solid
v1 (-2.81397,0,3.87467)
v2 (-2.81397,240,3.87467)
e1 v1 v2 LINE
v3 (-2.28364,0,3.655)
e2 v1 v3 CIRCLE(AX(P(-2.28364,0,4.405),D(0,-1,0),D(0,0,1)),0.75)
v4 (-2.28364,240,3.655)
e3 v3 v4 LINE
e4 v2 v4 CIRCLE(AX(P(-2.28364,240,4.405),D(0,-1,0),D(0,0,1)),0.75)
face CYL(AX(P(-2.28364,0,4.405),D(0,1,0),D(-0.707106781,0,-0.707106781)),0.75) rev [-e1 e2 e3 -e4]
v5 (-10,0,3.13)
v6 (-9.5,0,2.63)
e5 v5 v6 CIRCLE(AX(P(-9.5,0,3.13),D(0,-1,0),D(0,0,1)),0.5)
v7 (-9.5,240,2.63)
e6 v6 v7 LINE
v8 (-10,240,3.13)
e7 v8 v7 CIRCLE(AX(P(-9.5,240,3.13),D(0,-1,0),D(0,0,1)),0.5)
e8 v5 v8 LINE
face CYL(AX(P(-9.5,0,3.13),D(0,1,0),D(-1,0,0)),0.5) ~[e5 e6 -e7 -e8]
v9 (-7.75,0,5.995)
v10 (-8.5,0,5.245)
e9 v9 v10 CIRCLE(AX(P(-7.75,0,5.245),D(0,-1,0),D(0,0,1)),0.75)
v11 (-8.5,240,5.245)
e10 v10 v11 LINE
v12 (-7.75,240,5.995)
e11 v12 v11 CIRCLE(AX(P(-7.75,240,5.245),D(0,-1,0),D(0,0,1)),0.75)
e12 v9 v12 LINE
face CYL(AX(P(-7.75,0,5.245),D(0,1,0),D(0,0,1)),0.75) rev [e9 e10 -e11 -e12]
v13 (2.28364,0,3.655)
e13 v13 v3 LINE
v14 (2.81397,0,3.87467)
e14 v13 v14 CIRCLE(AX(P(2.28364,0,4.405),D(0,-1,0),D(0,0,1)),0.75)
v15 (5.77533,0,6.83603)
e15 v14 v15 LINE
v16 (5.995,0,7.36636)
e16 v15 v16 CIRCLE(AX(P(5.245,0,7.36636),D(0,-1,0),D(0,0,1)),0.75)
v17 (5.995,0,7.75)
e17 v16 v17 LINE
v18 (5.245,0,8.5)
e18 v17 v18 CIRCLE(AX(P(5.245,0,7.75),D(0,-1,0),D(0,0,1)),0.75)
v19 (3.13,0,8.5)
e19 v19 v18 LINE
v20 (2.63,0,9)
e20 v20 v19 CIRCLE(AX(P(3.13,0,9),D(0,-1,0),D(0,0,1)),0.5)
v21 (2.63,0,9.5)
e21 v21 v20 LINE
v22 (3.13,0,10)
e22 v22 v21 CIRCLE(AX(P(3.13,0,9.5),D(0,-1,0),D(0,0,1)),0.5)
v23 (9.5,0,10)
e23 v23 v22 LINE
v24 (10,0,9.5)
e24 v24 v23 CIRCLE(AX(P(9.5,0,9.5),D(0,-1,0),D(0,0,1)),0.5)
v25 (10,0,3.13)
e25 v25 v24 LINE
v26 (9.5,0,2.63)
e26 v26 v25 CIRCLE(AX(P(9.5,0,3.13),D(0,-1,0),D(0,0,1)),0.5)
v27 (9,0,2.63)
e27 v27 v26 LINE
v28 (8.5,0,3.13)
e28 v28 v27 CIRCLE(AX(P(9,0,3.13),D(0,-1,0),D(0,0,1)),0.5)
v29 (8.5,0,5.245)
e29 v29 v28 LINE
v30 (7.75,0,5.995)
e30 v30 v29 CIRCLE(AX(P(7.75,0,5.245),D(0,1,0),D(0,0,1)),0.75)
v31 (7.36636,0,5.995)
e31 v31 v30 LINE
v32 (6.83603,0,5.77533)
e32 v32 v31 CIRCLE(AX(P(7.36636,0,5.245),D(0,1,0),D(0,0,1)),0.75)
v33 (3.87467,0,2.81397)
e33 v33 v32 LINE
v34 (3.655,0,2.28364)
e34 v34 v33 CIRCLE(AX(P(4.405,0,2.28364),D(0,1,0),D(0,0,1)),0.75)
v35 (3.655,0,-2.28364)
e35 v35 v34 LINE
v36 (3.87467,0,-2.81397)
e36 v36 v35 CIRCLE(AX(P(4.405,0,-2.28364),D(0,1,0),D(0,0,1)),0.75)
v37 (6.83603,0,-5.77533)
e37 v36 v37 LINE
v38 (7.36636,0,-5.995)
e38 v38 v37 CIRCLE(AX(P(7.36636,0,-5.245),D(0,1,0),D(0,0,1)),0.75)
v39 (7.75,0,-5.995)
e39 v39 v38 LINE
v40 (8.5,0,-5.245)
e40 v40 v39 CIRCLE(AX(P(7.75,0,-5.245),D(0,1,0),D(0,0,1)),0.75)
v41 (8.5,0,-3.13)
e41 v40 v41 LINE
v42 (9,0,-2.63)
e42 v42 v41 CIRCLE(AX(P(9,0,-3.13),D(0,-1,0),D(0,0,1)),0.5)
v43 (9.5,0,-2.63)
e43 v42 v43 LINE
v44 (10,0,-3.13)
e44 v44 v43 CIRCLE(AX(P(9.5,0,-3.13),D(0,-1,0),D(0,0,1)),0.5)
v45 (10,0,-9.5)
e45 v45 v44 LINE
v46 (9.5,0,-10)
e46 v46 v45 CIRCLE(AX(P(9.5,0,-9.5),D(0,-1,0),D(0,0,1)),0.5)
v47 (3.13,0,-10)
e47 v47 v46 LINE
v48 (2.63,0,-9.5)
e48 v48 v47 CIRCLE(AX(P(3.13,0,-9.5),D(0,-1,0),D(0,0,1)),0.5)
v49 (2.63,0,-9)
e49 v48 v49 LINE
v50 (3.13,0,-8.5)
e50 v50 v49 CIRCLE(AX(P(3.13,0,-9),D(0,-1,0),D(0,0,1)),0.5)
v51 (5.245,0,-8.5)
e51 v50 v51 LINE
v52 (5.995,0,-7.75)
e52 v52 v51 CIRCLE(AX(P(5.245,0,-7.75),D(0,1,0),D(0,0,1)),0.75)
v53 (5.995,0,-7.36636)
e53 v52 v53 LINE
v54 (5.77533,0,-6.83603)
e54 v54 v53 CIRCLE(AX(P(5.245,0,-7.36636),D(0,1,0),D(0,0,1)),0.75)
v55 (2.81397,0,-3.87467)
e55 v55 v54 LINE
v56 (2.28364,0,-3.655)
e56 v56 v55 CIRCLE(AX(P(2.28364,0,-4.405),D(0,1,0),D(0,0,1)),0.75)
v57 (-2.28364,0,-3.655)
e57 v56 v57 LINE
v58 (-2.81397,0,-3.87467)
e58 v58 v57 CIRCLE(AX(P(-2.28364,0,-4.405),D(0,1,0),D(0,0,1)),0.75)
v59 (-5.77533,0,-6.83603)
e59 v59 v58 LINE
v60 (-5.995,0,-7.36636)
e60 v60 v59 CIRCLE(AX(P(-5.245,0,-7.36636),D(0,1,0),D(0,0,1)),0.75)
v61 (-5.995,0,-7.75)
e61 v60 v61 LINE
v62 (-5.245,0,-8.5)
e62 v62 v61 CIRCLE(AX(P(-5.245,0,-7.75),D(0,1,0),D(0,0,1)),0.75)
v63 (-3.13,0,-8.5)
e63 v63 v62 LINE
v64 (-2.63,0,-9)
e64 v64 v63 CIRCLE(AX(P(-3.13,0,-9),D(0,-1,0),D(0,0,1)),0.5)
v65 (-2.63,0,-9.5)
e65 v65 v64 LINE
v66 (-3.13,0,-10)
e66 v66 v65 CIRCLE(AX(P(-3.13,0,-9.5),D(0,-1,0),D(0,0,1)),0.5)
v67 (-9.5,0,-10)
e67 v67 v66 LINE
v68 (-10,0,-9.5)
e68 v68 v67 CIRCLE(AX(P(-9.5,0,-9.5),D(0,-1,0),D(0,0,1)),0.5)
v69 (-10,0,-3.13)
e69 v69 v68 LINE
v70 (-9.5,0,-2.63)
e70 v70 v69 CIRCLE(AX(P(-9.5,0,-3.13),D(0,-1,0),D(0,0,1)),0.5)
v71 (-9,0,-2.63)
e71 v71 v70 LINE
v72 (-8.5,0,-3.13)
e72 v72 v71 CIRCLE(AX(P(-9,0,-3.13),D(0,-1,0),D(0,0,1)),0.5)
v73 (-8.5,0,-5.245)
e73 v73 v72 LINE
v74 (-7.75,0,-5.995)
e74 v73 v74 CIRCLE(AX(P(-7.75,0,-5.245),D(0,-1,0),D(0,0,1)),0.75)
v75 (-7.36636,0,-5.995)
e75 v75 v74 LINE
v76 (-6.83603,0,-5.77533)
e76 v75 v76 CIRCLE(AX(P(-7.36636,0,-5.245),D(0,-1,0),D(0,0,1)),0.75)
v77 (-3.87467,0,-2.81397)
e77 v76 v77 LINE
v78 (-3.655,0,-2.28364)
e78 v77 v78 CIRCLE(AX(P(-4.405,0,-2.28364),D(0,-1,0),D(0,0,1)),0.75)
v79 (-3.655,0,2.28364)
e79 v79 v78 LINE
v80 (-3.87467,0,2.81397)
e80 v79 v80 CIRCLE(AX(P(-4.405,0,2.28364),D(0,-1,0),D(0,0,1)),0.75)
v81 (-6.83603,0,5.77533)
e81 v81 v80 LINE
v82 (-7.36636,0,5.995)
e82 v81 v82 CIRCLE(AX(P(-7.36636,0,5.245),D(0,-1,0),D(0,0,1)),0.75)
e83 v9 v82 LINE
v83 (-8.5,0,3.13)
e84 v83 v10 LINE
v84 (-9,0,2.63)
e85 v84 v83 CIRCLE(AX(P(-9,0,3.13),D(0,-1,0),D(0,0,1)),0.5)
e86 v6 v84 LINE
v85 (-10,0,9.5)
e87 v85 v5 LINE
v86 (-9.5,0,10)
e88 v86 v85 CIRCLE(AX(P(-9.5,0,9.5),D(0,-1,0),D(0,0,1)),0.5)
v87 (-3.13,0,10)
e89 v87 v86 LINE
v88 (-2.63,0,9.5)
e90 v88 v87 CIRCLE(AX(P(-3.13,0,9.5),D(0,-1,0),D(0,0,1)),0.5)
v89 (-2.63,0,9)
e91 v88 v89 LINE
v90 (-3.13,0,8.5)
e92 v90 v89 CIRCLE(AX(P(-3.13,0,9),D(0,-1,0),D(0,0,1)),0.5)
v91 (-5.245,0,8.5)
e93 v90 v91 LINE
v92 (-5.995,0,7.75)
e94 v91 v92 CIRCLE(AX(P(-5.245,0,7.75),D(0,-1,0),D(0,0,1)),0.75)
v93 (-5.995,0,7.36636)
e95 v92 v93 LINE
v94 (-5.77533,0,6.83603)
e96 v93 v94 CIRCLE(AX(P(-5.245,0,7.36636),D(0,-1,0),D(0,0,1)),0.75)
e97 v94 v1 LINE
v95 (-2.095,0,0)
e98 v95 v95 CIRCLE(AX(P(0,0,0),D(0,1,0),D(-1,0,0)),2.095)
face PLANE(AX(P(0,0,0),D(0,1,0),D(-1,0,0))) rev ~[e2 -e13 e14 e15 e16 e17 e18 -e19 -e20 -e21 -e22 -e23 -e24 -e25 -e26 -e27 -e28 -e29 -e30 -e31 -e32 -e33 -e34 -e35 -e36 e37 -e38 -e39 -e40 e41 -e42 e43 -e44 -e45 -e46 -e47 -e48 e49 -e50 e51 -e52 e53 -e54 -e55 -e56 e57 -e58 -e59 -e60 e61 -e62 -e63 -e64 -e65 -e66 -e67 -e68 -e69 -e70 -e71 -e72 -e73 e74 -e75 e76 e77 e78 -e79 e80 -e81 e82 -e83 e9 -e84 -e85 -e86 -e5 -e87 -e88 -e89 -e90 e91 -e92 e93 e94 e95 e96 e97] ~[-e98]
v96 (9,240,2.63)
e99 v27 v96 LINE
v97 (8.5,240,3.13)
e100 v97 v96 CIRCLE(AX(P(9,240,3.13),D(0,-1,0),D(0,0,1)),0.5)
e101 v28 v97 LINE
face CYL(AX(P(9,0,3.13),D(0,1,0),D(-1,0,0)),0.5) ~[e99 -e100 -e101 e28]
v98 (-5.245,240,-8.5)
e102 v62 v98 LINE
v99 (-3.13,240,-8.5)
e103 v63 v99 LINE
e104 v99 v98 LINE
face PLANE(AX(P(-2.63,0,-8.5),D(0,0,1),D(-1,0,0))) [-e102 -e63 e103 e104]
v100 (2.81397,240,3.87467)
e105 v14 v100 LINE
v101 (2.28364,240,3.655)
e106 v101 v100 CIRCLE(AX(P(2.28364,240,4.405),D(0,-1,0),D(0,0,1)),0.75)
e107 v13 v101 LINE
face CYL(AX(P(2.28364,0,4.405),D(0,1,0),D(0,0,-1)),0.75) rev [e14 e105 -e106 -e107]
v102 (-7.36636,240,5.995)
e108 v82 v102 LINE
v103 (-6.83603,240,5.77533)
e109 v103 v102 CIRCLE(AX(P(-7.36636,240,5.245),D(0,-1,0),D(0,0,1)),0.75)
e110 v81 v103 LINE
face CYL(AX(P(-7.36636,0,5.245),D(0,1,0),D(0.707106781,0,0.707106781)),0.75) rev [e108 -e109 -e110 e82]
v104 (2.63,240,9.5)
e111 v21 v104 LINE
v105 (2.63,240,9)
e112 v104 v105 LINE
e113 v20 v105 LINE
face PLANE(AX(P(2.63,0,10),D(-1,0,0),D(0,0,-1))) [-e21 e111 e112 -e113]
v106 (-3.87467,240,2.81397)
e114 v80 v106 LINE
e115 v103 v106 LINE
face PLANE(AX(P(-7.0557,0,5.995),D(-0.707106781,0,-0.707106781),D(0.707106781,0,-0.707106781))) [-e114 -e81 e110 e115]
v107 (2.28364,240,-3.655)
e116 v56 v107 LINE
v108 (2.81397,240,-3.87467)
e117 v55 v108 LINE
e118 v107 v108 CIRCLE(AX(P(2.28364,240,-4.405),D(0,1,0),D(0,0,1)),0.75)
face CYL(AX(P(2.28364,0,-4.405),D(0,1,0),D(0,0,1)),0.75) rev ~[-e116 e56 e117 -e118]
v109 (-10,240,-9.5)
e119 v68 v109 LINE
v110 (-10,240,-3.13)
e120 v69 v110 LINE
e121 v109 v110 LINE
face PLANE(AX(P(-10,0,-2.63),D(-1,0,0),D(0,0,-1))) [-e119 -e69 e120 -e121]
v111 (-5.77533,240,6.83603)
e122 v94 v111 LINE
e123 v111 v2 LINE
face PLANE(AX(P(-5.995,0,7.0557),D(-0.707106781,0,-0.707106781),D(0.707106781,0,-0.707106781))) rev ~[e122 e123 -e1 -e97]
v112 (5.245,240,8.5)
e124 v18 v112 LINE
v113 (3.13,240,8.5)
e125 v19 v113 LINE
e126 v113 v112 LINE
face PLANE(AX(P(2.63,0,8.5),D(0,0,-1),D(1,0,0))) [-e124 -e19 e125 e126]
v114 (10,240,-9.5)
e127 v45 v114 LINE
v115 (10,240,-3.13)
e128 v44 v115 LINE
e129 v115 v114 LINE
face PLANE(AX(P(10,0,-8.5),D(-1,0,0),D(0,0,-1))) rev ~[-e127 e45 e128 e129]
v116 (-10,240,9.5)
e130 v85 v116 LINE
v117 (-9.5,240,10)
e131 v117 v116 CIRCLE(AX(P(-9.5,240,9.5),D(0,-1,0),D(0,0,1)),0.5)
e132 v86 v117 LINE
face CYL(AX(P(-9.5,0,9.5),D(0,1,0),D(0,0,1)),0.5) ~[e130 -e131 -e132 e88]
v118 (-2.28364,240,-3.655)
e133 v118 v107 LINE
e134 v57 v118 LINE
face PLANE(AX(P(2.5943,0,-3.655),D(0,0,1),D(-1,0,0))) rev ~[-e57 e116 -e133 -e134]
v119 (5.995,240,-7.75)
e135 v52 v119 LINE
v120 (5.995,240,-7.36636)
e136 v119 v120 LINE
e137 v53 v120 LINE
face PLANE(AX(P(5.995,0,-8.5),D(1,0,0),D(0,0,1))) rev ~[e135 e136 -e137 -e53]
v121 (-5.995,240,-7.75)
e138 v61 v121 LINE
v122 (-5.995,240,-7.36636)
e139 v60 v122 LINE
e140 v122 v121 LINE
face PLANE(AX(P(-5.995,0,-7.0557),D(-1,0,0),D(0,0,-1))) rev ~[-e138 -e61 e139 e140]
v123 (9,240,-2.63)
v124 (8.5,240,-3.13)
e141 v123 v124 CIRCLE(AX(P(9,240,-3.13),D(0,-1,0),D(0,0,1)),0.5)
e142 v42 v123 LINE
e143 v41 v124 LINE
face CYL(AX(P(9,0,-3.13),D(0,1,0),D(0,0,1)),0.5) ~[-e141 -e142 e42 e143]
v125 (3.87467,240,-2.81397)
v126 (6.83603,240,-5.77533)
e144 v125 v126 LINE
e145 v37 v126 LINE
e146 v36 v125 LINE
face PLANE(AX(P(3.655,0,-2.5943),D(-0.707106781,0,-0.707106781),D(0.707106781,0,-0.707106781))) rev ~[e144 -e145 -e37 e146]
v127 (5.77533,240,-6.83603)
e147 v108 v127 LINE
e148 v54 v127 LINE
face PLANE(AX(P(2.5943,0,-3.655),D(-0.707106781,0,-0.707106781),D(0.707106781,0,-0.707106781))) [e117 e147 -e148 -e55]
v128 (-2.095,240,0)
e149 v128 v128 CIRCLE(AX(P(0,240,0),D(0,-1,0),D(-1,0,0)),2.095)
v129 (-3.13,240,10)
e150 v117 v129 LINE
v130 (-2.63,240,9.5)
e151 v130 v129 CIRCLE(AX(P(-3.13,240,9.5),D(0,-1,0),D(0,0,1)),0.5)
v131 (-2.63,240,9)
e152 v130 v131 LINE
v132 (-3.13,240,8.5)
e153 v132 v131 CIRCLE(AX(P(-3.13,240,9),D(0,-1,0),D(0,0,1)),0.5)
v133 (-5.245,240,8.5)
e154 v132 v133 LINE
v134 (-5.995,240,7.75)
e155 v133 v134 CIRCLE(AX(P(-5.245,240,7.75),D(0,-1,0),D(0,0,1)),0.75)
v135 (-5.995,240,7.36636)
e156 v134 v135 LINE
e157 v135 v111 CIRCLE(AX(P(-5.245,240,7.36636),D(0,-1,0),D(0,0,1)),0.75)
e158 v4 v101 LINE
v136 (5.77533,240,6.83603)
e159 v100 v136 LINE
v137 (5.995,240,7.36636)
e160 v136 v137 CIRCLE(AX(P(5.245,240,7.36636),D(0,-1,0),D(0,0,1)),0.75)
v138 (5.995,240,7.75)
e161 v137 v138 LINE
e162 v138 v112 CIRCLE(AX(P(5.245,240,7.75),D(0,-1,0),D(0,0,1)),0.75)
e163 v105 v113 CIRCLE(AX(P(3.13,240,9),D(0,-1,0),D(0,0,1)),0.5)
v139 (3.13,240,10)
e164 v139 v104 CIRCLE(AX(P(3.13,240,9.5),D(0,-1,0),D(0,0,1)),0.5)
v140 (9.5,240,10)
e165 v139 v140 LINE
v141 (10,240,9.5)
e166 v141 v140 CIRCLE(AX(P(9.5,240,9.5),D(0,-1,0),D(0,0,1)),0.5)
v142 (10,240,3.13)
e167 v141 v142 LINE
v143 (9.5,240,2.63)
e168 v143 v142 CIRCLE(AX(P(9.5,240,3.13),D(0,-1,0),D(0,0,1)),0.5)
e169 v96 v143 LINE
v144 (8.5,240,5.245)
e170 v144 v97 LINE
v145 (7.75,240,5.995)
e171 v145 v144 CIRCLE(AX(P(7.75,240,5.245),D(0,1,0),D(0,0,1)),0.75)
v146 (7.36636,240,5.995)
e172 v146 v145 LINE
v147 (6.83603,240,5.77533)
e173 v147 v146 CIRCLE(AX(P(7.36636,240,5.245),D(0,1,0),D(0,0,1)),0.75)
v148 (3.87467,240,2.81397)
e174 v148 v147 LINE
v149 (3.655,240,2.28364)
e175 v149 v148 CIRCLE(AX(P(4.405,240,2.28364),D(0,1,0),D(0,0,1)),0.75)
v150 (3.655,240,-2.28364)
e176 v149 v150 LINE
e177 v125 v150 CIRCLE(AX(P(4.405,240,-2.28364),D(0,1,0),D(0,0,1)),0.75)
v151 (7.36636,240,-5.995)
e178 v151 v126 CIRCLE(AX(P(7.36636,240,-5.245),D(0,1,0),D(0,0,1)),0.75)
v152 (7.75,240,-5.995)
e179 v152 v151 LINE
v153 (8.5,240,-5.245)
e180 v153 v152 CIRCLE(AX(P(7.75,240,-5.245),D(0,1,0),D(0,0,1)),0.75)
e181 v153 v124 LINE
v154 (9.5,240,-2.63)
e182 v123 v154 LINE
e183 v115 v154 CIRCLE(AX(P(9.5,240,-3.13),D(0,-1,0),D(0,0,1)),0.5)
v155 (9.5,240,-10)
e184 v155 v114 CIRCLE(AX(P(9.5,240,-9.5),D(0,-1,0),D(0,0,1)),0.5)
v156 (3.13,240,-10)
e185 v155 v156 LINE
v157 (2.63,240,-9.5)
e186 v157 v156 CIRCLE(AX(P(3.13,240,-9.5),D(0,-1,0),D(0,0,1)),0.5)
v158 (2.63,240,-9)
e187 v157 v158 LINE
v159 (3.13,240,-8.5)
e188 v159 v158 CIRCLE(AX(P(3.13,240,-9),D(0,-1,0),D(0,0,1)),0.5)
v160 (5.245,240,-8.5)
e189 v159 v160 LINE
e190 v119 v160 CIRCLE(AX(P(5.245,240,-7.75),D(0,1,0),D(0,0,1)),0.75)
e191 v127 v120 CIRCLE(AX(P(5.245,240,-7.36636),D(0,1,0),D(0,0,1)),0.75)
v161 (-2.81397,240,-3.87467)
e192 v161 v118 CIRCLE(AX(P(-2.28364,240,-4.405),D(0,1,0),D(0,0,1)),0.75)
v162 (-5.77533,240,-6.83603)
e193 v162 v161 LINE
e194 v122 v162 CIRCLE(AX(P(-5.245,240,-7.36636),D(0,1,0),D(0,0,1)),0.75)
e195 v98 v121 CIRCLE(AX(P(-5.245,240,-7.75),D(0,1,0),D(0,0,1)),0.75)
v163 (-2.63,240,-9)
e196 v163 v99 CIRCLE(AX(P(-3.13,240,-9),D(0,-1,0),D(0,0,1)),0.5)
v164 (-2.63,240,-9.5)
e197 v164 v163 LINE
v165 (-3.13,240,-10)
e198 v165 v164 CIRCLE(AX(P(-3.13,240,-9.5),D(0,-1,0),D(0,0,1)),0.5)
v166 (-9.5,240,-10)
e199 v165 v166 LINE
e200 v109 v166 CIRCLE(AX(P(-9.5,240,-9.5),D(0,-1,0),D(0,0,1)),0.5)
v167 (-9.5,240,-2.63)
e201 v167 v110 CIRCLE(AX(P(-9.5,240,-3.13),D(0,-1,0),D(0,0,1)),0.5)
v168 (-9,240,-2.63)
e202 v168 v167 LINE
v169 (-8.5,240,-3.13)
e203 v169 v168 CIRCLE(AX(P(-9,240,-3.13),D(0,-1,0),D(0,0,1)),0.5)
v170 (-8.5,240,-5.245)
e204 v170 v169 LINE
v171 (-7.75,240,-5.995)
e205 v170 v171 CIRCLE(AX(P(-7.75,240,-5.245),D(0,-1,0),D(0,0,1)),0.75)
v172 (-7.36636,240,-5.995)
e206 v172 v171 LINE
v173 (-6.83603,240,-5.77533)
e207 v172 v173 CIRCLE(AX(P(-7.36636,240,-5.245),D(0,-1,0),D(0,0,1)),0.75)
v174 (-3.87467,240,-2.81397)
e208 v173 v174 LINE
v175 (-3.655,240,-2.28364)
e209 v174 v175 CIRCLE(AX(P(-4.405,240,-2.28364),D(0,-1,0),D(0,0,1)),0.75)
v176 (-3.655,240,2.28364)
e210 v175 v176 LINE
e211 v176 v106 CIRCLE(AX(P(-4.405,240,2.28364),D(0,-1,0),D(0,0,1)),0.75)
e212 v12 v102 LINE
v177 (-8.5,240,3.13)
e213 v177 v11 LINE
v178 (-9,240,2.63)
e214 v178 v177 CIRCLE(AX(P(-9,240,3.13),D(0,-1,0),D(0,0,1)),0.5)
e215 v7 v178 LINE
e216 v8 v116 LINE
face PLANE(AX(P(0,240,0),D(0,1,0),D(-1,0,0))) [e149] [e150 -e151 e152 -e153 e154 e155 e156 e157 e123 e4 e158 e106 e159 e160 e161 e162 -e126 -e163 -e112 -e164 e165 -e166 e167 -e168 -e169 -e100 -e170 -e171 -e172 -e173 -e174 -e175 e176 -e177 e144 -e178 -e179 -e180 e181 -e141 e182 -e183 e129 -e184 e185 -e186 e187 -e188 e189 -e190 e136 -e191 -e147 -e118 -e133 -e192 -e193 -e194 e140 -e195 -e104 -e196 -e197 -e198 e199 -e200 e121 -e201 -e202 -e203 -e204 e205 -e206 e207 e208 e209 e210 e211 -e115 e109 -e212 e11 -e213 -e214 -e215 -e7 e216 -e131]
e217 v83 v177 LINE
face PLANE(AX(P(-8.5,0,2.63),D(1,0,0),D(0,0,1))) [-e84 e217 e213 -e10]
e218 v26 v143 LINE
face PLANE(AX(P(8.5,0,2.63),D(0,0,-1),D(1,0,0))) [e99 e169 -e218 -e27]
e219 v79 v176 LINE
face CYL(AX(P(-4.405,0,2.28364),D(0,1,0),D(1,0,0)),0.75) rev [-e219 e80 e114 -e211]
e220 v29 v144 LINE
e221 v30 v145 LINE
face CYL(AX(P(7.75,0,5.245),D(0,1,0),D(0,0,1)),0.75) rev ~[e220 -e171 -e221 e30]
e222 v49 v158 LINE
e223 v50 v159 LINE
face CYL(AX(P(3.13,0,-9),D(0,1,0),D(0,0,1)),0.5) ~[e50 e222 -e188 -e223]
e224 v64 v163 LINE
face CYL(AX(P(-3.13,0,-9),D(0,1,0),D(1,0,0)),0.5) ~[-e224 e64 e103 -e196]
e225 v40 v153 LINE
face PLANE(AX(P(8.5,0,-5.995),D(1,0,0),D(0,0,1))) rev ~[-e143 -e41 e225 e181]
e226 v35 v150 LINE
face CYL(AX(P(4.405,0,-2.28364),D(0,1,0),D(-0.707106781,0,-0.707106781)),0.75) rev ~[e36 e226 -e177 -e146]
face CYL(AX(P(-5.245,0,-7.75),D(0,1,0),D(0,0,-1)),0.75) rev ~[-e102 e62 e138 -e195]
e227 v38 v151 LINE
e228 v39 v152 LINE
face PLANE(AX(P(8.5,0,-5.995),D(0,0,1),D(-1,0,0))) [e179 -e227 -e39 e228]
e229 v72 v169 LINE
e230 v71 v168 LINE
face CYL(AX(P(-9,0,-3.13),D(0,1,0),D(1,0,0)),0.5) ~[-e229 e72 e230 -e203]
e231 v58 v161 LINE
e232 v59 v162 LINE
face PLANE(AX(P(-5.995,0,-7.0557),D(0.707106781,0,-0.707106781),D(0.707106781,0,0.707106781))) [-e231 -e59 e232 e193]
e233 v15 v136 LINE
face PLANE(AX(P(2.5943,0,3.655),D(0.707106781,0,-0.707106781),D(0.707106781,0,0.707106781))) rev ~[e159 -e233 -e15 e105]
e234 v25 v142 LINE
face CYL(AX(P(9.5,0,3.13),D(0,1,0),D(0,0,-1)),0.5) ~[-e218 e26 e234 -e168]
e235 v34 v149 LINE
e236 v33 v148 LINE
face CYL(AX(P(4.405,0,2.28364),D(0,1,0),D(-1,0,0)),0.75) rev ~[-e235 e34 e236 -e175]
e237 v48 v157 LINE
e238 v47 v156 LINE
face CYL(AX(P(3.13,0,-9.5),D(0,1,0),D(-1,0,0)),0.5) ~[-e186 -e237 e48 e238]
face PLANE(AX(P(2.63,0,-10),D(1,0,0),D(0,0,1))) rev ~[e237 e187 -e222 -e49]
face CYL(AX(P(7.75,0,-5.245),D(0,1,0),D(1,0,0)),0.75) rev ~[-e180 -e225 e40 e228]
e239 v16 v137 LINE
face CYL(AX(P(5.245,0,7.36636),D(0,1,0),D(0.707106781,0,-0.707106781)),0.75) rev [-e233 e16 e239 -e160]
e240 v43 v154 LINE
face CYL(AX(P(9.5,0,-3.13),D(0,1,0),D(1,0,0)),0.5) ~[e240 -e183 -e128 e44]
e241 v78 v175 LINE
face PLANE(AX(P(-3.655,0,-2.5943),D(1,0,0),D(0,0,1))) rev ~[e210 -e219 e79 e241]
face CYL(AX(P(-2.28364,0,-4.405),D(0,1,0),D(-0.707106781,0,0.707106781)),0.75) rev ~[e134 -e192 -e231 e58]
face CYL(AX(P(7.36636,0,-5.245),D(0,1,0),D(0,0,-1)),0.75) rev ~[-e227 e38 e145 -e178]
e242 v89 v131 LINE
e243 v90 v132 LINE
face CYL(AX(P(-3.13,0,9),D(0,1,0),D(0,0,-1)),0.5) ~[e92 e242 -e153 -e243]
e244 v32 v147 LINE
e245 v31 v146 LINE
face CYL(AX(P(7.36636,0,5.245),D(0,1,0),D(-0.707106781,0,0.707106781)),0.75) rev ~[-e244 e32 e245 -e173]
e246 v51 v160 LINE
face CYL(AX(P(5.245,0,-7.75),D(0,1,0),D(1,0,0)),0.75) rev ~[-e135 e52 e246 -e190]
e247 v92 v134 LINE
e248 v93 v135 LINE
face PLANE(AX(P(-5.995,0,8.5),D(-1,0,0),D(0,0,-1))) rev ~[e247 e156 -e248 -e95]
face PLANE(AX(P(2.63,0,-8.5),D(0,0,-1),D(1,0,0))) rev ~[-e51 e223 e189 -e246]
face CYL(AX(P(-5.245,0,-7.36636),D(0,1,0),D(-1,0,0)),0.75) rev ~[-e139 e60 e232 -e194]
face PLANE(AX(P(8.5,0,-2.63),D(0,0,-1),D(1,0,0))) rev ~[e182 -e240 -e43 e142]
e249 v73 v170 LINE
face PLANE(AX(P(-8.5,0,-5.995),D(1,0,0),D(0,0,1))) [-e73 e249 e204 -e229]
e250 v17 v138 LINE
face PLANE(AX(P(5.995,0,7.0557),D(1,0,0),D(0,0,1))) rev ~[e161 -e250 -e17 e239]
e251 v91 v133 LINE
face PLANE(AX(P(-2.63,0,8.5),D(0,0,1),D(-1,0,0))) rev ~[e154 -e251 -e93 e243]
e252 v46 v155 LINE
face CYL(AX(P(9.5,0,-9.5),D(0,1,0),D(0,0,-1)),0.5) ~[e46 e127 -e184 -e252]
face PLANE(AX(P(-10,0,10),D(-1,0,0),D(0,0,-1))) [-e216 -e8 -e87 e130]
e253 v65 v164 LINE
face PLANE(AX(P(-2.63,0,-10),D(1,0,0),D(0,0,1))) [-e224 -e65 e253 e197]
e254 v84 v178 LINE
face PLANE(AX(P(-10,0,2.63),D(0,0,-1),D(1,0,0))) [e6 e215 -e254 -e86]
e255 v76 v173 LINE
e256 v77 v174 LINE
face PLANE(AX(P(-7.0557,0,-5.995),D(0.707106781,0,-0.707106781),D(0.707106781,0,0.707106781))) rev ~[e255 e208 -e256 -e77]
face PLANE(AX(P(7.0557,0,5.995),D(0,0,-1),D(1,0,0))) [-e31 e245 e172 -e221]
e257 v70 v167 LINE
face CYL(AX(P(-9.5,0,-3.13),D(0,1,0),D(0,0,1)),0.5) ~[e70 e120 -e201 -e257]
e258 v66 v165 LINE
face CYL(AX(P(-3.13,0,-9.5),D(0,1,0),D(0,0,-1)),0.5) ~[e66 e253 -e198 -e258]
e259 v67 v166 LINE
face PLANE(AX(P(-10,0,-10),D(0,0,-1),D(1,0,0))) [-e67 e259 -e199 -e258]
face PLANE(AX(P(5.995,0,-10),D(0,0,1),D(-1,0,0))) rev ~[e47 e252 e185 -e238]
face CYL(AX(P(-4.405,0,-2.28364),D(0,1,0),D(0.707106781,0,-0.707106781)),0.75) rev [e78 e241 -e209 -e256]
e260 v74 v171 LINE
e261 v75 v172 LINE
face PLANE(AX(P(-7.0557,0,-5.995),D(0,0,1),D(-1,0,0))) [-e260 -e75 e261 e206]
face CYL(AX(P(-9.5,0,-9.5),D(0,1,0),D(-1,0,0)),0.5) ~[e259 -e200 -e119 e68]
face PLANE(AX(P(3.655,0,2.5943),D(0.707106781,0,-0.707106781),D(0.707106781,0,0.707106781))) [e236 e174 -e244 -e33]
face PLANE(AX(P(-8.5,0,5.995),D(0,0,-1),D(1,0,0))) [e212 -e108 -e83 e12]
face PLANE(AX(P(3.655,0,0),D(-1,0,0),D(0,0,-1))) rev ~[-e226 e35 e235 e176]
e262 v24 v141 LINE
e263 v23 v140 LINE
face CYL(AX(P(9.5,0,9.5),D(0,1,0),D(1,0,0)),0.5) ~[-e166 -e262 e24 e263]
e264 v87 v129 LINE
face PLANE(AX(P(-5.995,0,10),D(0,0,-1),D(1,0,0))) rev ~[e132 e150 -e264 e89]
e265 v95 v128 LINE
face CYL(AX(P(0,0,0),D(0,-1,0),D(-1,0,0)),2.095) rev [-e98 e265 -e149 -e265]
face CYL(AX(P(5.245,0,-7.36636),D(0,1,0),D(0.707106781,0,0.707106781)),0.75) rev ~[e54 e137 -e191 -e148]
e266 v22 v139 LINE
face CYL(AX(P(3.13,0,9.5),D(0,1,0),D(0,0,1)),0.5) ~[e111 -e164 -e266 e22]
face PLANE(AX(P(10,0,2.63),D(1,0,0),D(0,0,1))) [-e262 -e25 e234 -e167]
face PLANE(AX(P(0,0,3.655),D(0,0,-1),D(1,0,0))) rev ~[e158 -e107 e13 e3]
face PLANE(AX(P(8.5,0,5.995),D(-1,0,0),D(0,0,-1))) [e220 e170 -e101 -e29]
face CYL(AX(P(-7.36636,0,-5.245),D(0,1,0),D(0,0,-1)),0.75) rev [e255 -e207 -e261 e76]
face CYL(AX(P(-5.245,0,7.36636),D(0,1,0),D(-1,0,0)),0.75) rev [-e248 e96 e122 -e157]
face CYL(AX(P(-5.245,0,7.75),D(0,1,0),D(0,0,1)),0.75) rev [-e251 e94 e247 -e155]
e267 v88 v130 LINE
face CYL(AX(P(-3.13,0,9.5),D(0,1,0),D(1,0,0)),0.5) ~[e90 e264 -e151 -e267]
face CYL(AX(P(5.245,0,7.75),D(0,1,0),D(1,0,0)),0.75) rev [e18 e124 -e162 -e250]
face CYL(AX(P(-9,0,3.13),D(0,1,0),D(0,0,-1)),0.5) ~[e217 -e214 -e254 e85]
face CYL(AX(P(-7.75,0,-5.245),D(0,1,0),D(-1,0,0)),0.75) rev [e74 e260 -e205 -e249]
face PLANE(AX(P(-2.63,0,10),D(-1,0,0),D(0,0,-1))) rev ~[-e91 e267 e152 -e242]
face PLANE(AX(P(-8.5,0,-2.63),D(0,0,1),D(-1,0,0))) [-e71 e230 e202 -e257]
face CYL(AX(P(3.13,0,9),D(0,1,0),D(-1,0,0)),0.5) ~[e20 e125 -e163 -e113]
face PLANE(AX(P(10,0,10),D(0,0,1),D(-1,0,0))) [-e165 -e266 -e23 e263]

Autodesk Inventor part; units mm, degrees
ref_plane "YZ Plane" through (0, 0, 0) normal (1, 0, 0) x (0, 1, 0)
ref_plane "XZ Plane" through (0, 0, 0) normal (0, 1, 0) x (-1, 0, 0)
ref_plane "XY Plane" through (0, 0, 0) normal (0, 0, 1) x (1, 0, 0)
sketch "Sketch1" plane through (0, 0, 0) normal (0, 1, 0) x (-1, 0, 0)
  line L0 (0, -14) -> (0, 14) projected
  line L1 (-14, 0) -> (14, 0) projected
  line L2 (14, 0) -> (-14, 0) projected
  line L3 (0, -14) -> (0, 14) projected
  line L4 (2.5943, 3.655) -> (-2.5943, 3.655)
  line L5 (-3.655, 2.5943) -> (-3.655, -2.5943)
  line L6 (-2.5943, -3.655) -> (2.5943, -3.655)
  line L7 (3.655, -2.5943) -> (3.655, 2.5943)
  line L8 (-3.655, 3.655) -> (3.655, -3.655) construction
  line L9 (10, 10) -> (10, 2.63)
  line L10 (10, 2.63) -> (8.5, 2.63)
  line L11 (10, 10) -> (2.63, 10)
  line L12 (2.63, 10) -> (2.63, 8.5)
  line L13 (-10, 10) -> (-2.63, 10)
  line L14 (-2.63, 10) -> (-2.63, 8.5)
  line L15 (-10, 8.5) -> (-10, 10)
  line L16 (-10, 10) -> (-8.5, 10)
  line L17 (-8.5, 2.63) -> (-10, 2.63)
  line L18 (-10, 2.63) -> (-10, 10)
  line L19 (-10, -10) -> (-8.5, -10)
  line L20 (-8.5, -2.63) -> (-10, -2.63)
  line L21 (-10, -2.63) -> (-10, -10)
  line L22 (-10, -10) -> (-2.63, -10)
  line L23 (-2.63, -10) -> (-2.63, -8.5)
  line L24 (-10, -8.5) -> (-10, -10)
  line L25 (10, -10) -> (8.5, -10)
  line L26 (8.5, -2.63) -> (10, -2.63)
  line L27 (10, -2.63) -> (10, -10)
  line L28 (10, -10) -> (2.63, -10)
  line L29 (2.63, -10) -> (2.63, -8.5)
  line L30 (10, -8.5) -> (10, -10)
  circle A0 centre (0, 0) radius 2.095
  line L31 (5.995, -10) -> (2.63, -10)
  line L32 (-2.63, -10) -> (-5.995, -10)
  line L33 (10, -10) -> (2.63, -10)
  line L34 (-2.63, -10) -> (-10, -10)
  line L35 (10, -5.995) -> (10, -2.63)
  line L36 (10, 2.63) -> (10, 5.995)
  line L37 (10, 10) -> (10, 2.63)
  line L38 (10, -2.63) -> (10, -10)
  line L39 (-5.995, 10) -> (-2.63, 10)
  line L40 (2.63, 10) -> (5.995, 10)
  line L41 (-10, 10) -> (-2.63, 10)
  line L42 (2.63, 10) -> (10, 10)
  line L43 (-10, 5.995) -> (-10, 2.63)
  line L44 (-10, -2.63) -> (-10, -5.995)
  line L45 (-10, -10) -> (-10, -2.63)
  line L46 (-10, 2.63) -> (-10, 10)
  line L47 (-2.63, -8.5) -> (-5.995, -8.5)
  line L48 (-8.5, -5.995) -> (-8.5, -2.63)
  line L49 (-8.5, -5.995) -> (-7.0557, -5.995)
  line L50 (-5.995, -8.5) -> (-5.995, -7.0557)
  line L51 (-5.995, 7.0557) -> (-5.995, 8.5)
  line L52 (2.63, 8.5) -> (5.995, 8.5)
  line L53 (8.5, 2.63) -> (8.5, 5.995)
  line L54 (8.5, 5.995) -> (7.0557, 5.995)
  line L55 (5.995, 8.5) -> (5.995, 7.0557)
  line L56 (2.63, -8.5) -> (5.995, -8.5)
  line L57 (9.5607, -8.5) -> (10, -8.5)
  line L58 (8.5, -10) -> (8.5, -9.5607)
  line L59 (8.5, -5.995) -> (8.5, -2.63)
  line L60 (7.0557, -5.995) -> (8.5, -5.995)
  line L61 (5.995, -7.0557) -> (5.995, -8.5)
  line L62 (3.655, 3.655) -> (-0.5303, -0.5303) construction
  line L63 (-1.4814, -1.4814) -> (-3.655, -3.655) construction
  line L64 (-8.5, 10) -> (-8.5, 9.5607)
  line L65 (-8.5, 5.995) -> (-8.5, 2.63)
  line L66 (-2.63, 8.5) -> (-5.995, 8.5)
  line L67 (-9.5607, 8.5) -> (-10, 8.5)
  line L68 (-7.0557, 5.995) -> (-8.5, 5.995)
  line L69 (-3.655, 2.5943) -> (-7.0557, 5.995)
  line L70 (-2.5943, 3.655) -> (-5.995, 7.0557)
  line L71 (5.995, 7.0557) -> (2.5943, 3.655)
  line L72 (7.0557, 5.995) -> (3.655, 2.5943)
  line L73 (7.0557, -5.995) -> (3.655, -2.5943)
  line L74 (5.995, -7.0557) -> (2.5943, -3.655)
  line L75 (-2.5943, -3.655) -> (-5.995, -7.0557)
  line L76 (-3.655, -2.5943) -> (-7.0557, -5.995)
  dimension "d26" = 4.19
  dimension "d0" = 20
  dimension "d1" = 20
  dimension "d2" = 7.31
  dimension "d3" = 7.31
  dimension "d4" = 20
  dimension "d5" = 11.99
  dimension "d6" = 11.99
  dimension "d11" = 7.37
  dimension "d12" = 1.5
  dimension "d13" = 7.37
  dimension "d14" = 1.5
  dimension "d15" = 7.37
  dimension "d16" = 1.5
  dimension "d17" = 7.37
  dimension "d18" = 1.5
  dimension "d19" = 7.37
  dimension "d20" = 7.37
  dimension "d21" = 1.5
  dimension "d22" = 1.5
  dimension "d23" = 7.37
  dimension "d24" = 7.37
  dimension "d25" = 1.5
extrude "Extrusion1" add sketch "Sketch1" along normal blind 240 contours L6 L75 L50 L47 L23 L22 L19 L21 L20 L48 L49 L76 L5 L1 A0 L0 | L0 A0 L1 L7 L73 L60 L59 L26 L27 L25 L28 L29 L56 L61 L74 L6 | L1 L5 L69 L68 L65 L17 L18 L15 L13 L14 L66 L51 L70 L4 L0 A0 | A0 L0 L4 L71 L55 L52 L12 L11 L9 L10 L53 L54 L72 L7 L1
fillet "Fillet1" radius 0.5 20 edges at (10, 120, 10) (2.63, 120, 10) (-2.63, 120, 10) (-2.63, 120, 8.5) (10, 120, 2.63) (8.5, 120, 2.63) (10, 120, -2.63) (8.5, 120, -2.63) (10, 120, -10) (2.63, 120, -8.5) (-2.63, 120, -10) (-2.63, 120, -8.5) (2.63, 120, -10) (-10, 120, -10) (-8.5, 120, -2.63) (-10, 120, -2.63) (-8.5, 120, 2.63) (-10, 120, 2.63) (-10, 120, 10) (2.63, 120, 8.5)
fillet "Fillet2" radius 0.75 24 edges at (-7.0557, 120, 5.995) (-3.655, 120, 2.5943) (-8.5, 120, -5.995) (-7.0557, 120, -5.995) (-5.995, 120, -8.5) (3.655, 120, -2.5943) (7.0557, 120, -5.995) (-2.5943, 120, 3.655) (-5.995, 120, 7.0557) (3.655, 120, 2.5943) (7.0557, 120, 5.995) (8.5, 120, 5.995) (8.5, 120, -5.995) (2.5943, 120, 3.655) (5.995, 120, 7.0557) (5.995, 120, 8.5) (-5.995, 120, 8.5) (-8.5, 120, 5.995) (2.5943, 120, -3.655) (5.995, 120, -7.0557) (5.995, 120, -8.5) (-5.995, 120, -7.0557) (-2.5943, 120, -3.655) (-3.655, 120, -2.5943)
properties part number "Profile_Len_200mm"
